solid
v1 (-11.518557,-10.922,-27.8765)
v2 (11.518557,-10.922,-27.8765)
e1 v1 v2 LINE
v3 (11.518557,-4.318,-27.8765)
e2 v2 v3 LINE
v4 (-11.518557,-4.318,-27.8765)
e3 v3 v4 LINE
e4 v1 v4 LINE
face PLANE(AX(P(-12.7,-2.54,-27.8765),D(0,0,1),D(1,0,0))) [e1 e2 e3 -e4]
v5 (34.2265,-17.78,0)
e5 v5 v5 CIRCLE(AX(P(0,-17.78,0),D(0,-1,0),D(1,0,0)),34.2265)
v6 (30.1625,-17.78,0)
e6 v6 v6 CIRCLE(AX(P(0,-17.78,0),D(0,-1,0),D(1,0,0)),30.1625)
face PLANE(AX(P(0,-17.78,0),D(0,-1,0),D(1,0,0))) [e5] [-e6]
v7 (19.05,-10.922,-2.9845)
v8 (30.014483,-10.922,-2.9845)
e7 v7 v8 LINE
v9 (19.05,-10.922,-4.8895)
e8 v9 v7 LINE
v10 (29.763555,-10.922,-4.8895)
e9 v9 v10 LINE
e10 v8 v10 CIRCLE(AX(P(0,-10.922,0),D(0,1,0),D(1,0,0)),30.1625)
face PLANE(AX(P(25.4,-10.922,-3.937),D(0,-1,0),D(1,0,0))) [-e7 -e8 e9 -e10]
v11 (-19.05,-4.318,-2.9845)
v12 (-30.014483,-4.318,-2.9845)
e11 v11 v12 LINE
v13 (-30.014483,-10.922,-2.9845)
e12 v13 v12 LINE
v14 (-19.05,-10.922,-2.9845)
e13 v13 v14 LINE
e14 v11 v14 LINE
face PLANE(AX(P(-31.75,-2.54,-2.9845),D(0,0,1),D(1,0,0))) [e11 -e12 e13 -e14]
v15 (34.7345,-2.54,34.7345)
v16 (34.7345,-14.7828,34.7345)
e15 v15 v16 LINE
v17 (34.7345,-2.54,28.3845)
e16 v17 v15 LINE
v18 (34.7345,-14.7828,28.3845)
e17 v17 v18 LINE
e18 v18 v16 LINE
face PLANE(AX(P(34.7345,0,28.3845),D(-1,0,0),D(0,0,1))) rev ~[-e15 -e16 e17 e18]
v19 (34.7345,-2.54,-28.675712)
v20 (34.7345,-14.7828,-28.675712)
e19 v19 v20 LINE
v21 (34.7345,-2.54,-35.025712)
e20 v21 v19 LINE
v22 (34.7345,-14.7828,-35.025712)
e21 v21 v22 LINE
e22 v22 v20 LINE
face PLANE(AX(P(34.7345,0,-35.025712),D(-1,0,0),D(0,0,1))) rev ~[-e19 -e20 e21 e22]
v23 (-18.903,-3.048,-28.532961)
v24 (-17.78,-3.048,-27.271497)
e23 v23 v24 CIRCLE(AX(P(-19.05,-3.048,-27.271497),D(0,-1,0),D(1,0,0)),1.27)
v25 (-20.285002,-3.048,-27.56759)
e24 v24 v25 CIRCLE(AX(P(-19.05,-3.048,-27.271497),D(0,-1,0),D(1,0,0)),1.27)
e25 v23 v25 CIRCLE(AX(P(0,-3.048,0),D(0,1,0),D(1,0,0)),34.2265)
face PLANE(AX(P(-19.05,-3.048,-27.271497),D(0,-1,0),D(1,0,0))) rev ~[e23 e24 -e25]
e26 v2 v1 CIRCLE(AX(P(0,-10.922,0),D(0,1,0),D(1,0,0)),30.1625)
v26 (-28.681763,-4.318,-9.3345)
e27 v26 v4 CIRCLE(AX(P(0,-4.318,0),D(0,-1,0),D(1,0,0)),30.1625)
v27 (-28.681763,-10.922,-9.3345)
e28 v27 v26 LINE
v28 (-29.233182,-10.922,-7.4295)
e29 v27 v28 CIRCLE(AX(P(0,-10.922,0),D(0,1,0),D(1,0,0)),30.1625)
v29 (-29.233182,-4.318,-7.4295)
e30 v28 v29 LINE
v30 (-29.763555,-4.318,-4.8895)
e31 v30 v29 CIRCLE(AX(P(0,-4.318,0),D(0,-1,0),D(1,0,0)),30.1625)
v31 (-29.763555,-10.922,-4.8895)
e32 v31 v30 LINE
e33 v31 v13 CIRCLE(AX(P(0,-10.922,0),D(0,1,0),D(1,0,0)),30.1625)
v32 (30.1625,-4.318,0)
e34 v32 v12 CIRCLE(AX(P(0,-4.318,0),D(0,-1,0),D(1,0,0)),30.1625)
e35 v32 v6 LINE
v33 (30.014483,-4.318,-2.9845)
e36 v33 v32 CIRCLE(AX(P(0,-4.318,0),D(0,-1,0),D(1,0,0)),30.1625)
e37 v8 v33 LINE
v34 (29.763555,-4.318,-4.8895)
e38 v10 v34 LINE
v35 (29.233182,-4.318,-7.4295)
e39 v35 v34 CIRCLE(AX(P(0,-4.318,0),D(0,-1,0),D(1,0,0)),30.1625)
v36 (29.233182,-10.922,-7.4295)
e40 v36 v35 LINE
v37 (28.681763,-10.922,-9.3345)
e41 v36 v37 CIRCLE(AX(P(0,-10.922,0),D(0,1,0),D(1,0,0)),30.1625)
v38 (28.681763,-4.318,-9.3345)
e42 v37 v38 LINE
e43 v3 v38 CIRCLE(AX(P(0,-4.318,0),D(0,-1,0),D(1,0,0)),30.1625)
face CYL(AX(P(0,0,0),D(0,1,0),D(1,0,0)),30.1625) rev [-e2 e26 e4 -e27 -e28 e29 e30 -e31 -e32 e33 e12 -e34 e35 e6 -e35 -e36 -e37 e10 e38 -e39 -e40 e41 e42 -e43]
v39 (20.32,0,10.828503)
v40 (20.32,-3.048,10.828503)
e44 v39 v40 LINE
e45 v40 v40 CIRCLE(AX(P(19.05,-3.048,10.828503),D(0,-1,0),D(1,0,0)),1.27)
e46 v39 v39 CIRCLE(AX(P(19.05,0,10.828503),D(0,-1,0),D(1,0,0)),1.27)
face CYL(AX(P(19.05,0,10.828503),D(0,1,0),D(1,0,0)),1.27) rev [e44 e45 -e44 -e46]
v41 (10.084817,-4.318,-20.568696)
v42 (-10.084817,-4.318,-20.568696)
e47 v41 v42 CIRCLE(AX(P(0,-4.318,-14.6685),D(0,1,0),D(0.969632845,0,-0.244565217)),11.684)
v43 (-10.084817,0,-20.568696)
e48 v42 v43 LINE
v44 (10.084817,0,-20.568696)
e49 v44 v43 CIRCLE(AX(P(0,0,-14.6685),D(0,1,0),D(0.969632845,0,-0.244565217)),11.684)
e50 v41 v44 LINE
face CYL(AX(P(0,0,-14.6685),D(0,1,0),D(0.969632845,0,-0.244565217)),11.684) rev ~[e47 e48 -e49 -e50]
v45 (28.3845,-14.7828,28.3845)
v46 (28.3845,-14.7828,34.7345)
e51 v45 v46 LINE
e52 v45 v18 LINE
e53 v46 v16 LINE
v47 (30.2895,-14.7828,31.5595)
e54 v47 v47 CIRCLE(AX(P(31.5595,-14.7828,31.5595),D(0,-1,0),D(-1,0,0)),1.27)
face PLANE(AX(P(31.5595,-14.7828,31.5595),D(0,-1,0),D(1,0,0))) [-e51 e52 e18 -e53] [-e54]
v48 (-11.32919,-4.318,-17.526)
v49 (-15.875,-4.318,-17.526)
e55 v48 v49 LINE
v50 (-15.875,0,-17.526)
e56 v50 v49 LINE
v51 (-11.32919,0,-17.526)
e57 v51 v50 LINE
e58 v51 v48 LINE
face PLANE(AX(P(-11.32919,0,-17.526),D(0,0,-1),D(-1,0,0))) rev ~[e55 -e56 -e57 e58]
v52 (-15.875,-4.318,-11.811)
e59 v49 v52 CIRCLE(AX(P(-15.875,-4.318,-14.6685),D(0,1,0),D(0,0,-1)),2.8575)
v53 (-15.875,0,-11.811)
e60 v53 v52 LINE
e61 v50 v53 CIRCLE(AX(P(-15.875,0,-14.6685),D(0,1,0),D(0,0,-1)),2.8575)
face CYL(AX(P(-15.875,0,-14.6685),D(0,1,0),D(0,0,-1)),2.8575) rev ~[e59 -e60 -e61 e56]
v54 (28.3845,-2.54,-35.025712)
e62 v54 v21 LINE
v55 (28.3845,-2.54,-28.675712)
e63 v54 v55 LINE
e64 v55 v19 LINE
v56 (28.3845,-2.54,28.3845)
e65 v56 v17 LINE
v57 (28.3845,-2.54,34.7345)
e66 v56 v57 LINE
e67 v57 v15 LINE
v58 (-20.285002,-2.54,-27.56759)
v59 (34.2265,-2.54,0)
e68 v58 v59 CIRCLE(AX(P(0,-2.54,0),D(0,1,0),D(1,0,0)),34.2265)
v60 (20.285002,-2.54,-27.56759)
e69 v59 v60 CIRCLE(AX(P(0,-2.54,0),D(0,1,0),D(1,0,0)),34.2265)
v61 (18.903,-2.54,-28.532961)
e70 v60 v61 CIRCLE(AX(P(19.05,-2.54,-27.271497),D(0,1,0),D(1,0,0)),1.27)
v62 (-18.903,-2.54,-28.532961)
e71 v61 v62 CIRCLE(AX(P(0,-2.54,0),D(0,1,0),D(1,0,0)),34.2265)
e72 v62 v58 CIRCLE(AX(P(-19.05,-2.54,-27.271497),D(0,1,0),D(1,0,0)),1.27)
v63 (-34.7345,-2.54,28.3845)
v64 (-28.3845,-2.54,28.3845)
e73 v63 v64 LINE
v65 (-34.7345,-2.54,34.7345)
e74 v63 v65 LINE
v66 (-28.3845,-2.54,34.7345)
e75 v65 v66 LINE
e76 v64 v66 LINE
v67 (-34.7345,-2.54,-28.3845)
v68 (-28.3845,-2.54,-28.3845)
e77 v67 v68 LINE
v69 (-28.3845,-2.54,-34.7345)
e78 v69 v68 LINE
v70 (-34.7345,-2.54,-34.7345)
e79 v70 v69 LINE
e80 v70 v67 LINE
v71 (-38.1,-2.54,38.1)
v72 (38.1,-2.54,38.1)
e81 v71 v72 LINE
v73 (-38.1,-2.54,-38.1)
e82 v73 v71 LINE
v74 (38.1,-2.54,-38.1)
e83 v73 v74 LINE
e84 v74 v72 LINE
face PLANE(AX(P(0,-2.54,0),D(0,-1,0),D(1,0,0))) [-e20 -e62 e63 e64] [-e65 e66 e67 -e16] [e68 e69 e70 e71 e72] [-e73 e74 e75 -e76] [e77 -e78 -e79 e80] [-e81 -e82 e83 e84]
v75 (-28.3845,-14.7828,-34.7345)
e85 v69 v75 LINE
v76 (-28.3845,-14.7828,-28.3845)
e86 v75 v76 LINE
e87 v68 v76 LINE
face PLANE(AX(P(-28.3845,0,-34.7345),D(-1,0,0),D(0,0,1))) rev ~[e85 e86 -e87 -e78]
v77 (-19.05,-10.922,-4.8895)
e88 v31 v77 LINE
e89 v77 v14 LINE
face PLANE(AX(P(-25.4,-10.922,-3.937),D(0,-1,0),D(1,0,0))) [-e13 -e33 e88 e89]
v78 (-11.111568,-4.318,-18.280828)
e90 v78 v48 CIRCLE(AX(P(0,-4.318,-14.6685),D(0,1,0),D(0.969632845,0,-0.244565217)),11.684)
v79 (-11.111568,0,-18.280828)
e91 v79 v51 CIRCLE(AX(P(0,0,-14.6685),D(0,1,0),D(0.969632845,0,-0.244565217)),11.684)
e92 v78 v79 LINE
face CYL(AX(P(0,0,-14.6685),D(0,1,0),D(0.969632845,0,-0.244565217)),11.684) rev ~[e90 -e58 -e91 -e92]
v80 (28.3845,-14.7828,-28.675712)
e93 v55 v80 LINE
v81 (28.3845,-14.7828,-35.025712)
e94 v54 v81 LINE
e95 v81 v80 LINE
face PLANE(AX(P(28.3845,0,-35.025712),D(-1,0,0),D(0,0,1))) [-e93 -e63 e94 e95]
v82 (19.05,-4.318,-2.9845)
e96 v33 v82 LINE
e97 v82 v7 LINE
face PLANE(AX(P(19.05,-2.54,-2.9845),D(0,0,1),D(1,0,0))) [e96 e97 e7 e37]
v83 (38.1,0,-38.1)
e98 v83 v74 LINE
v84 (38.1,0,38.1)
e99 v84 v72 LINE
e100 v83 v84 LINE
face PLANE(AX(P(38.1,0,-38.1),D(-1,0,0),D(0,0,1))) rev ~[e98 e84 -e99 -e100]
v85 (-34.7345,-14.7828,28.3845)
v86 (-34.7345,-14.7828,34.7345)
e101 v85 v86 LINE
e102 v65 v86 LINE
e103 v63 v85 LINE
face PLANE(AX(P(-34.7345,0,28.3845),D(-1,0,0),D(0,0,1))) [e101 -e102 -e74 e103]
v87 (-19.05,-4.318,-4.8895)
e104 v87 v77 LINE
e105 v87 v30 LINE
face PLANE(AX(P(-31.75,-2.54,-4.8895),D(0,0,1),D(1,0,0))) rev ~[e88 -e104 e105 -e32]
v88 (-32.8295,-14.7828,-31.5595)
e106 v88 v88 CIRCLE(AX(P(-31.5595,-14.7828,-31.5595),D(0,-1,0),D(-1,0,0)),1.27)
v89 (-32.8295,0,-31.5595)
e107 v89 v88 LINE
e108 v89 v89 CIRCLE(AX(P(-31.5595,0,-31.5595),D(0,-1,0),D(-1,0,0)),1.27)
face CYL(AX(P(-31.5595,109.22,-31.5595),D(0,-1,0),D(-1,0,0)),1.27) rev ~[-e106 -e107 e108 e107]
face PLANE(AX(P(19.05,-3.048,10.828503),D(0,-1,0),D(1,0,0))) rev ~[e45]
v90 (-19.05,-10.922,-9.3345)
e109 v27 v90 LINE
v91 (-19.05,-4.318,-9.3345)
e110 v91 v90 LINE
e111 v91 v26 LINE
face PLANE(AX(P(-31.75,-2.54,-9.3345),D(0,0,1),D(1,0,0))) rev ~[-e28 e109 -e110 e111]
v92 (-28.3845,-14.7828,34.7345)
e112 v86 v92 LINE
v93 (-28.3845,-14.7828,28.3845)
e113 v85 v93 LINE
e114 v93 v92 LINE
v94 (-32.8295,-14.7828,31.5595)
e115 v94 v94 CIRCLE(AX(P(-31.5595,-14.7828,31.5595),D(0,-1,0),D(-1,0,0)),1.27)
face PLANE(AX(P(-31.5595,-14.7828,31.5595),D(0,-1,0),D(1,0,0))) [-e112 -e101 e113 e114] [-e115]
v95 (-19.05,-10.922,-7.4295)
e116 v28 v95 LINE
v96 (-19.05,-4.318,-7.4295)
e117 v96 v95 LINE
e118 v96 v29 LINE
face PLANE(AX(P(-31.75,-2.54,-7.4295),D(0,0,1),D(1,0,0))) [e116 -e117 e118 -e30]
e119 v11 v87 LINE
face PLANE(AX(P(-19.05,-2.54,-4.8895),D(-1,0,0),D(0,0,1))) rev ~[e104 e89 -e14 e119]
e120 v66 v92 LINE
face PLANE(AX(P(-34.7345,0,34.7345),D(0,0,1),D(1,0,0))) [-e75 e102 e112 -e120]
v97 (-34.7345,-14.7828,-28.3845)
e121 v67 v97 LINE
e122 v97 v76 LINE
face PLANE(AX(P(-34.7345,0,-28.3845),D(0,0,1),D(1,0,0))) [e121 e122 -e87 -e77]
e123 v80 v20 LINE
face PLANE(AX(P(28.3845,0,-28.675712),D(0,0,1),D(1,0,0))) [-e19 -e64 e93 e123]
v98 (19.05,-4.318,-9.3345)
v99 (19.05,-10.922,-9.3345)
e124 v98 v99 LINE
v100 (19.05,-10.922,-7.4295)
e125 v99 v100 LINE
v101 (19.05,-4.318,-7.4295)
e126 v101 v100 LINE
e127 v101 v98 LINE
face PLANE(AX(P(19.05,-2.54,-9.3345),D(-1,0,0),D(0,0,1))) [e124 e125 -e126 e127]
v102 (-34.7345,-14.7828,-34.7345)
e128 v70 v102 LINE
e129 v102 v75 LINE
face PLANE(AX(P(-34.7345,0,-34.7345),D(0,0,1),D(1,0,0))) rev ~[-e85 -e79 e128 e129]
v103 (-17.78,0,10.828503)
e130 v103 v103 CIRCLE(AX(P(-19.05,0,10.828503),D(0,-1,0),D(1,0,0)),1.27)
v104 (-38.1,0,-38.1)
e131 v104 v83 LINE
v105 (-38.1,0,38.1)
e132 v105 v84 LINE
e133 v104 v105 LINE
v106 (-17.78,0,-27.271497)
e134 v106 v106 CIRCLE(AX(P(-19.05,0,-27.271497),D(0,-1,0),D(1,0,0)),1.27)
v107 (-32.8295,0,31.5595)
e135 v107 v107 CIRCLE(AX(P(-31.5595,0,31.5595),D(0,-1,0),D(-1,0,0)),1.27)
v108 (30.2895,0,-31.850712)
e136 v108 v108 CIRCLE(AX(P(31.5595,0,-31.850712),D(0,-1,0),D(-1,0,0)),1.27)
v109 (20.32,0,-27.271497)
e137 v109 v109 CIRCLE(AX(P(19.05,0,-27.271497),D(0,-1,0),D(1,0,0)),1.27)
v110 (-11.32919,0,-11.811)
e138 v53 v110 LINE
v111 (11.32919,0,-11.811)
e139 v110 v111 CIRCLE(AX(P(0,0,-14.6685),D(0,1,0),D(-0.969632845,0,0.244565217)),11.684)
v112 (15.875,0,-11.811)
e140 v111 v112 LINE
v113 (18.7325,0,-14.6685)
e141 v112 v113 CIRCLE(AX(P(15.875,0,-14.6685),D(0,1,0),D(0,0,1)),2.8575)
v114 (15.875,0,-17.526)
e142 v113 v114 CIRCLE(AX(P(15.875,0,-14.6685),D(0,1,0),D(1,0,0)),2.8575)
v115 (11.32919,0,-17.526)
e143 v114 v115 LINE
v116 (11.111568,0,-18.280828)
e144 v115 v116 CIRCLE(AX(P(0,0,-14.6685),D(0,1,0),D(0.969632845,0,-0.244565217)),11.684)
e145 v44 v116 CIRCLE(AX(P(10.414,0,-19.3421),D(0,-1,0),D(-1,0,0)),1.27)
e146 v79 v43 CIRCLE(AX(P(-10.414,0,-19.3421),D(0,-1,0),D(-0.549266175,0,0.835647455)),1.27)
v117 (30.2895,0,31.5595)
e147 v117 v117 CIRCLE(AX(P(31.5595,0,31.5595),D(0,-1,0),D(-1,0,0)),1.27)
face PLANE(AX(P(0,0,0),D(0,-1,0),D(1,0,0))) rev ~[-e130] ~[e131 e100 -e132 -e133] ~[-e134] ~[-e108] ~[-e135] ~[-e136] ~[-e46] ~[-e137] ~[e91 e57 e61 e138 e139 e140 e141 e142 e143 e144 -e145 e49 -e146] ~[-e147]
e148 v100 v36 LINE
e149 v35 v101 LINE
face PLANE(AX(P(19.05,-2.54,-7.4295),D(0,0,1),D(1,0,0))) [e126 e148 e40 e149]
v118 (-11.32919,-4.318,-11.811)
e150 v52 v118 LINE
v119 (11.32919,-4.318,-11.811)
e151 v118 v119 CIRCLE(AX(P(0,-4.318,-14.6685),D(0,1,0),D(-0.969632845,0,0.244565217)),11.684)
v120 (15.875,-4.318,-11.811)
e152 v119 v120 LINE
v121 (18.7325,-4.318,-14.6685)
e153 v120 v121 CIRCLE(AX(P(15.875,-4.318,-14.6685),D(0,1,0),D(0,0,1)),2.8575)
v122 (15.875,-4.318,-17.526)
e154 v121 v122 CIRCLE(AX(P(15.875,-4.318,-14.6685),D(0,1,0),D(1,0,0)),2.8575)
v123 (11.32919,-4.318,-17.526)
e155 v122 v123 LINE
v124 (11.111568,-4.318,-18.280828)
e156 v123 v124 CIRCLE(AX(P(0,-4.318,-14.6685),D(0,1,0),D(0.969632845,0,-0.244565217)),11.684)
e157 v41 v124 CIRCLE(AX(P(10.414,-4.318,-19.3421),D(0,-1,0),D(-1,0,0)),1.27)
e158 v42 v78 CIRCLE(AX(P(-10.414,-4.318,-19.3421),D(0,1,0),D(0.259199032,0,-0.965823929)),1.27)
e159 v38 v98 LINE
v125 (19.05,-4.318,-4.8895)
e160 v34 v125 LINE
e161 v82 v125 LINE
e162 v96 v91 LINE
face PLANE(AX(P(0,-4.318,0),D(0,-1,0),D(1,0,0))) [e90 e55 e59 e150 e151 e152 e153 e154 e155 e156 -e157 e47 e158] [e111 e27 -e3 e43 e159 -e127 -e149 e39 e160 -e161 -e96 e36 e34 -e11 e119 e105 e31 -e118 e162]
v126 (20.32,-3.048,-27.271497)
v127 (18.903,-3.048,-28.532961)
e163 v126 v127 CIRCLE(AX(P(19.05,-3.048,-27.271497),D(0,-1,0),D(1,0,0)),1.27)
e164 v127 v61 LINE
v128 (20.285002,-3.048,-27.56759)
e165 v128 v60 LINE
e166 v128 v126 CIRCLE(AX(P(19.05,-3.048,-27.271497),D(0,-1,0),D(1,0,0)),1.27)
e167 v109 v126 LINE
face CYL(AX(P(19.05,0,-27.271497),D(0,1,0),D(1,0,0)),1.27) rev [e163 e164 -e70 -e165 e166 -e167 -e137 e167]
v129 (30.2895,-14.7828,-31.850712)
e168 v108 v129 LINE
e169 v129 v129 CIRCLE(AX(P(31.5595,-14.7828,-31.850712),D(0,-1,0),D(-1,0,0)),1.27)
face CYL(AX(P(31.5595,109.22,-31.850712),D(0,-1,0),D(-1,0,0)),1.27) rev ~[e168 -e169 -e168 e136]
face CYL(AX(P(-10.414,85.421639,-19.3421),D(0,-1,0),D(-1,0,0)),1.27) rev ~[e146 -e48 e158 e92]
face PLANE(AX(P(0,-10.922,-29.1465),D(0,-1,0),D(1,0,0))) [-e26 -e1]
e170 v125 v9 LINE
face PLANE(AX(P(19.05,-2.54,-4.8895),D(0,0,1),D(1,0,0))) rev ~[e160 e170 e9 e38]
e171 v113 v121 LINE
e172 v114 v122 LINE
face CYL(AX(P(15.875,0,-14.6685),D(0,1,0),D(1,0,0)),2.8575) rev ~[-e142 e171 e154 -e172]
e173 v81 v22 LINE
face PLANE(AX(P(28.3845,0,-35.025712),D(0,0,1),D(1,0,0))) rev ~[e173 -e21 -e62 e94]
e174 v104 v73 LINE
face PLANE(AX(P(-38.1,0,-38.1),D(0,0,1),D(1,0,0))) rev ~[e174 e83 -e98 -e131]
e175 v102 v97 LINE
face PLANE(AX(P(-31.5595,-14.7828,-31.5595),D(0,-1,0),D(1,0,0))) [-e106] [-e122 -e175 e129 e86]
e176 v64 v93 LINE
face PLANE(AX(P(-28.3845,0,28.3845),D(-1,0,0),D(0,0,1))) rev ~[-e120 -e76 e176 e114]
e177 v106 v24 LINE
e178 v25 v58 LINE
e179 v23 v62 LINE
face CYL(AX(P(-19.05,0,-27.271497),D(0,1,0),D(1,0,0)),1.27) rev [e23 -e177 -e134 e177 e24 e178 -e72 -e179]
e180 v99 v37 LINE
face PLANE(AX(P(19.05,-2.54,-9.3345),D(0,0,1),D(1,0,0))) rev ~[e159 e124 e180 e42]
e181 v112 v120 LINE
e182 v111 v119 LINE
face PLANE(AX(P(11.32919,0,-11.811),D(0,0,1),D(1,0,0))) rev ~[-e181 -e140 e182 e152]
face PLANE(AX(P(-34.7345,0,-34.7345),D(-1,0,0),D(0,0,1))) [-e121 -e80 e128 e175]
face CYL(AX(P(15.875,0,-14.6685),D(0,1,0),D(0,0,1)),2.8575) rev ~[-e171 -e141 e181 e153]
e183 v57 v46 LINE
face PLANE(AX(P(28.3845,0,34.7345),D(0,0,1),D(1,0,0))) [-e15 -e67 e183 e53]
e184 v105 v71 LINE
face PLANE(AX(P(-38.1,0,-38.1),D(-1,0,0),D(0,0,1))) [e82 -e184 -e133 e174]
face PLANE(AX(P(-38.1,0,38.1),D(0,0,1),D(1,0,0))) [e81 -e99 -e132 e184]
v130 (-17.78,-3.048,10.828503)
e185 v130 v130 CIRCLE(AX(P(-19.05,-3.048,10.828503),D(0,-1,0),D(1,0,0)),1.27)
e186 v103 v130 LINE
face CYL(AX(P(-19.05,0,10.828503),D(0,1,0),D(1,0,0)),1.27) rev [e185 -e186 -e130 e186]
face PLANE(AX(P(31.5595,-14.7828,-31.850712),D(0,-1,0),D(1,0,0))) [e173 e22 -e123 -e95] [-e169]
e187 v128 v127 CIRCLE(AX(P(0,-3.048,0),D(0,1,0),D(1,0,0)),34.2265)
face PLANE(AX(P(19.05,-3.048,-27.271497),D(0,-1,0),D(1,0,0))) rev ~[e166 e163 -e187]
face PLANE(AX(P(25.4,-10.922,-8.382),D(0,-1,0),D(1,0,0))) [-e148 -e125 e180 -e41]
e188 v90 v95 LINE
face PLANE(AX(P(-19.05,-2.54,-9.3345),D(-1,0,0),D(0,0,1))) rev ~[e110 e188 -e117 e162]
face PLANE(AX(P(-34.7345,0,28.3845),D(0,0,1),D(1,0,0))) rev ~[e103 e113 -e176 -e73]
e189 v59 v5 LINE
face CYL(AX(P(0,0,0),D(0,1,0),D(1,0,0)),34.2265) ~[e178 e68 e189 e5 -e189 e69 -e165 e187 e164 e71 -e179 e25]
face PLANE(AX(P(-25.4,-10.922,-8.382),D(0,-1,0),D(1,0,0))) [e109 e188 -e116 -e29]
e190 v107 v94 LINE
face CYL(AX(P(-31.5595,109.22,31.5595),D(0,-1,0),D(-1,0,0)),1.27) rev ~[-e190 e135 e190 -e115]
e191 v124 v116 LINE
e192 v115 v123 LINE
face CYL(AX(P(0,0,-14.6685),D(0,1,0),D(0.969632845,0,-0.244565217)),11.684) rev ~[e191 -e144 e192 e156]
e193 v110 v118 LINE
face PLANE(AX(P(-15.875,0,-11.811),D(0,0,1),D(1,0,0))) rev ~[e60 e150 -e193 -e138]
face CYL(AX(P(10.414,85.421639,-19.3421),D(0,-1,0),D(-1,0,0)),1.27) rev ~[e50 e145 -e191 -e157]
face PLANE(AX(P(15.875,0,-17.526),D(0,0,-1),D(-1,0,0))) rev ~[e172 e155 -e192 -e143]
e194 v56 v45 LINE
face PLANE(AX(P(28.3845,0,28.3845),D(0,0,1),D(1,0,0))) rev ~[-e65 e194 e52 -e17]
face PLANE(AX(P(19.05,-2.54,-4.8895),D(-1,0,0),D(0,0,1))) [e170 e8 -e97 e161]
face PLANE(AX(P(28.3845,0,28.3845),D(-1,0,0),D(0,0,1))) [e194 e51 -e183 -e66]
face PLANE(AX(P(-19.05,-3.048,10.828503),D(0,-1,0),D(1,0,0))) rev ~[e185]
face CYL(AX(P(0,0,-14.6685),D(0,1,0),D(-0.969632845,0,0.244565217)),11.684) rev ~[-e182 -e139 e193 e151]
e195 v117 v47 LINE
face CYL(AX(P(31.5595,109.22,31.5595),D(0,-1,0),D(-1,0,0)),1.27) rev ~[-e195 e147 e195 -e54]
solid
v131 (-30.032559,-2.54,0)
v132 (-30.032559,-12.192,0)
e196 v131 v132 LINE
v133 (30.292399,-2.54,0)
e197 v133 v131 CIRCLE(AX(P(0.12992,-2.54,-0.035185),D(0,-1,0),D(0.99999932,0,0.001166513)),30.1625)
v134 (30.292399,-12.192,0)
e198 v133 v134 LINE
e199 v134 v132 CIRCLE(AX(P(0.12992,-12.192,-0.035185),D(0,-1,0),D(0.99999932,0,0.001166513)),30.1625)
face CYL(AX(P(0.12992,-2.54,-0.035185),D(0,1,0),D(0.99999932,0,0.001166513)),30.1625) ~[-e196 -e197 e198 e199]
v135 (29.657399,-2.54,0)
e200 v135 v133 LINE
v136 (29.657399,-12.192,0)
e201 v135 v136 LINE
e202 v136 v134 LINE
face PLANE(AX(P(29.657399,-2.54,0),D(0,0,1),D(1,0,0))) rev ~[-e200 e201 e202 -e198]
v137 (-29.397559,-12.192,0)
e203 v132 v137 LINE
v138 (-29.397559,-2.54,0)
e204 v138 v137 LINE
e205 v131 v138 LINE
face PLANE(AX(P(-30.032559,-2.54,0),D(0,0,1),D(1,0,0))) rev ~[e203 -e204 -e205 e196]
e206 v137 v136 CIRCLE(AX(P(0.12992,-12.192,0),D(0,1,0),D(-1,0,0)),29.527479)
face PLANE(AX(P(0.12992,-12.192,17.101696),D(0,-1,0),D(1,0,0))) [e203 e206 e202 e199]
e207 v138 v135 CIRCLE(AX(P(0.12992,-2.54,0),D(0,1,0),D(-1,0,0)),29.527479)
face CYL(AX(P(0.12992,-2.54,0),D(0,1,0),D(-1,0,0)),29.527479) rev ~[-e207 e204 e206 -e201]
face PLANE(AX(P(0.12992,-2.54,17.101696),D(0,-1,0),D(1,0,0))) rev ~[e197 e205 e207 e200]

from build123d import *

# Parameters (mm, degrees)
F0_R      = 30.1625
F1_DEPTH  = 4.318
F2_D      = 2.54
F3_DEPTH  = 10.922
F4_R      = 34.2265
F4_R_2    = 30.1625
F5_DEPTH  = 17.78
F0_W      = 76.2
F0_H      = 76.2
F0_W_2    = 6.35
F0_H_2    = 6.35
F8_DEPTH  = 2.54
F10_DEPTH = 9.652
F11_R     = 1.27
F12_DEPTH = 3.048
F7_W      = 25.4
F7_H      = 2.54
F7_W_2    = 12.7
F7_H_2    = 1.905
F13_DEPTH = 8.382
F14_DEPTH = 14.7828
F15_D     = 2.54


with BuildPart() as f1:
    # F0 (on Front) → F1 (new body)
    with BuildSketch(Plane.XZ):
        Circle(F0_R)
        with BuildLine():
            ThreePointArc((-11.329190163, -11.811), (0, -2.9845), (11.329190163, -11.811))
            Line((11.329190163, -11.811), (15.875, -11.811))
            ThreePointArc((15.875, -11.811), (17.8955576272, -12.6479423728), (18.7325, -14.6685))
            ThreePointArc((18.7325, -14.6685), (17.8955576272, -16.6890576272), (15.875, -17.526))
            Line((15.875, -17.526), (11.329190163, -17.526))
            ThreePointArc((11.329190163, -17.526), (0, -26.3525), (-11.329190163, -17.526))
            Line((-11.329190163, -17.526), (-15.875, -17.526))
            ThreePointArc((-15.875, -17.526), (-18.7325, -14.6685), (-15.875, -11.811))
            Line((-15.875, -11.811), (-11.329190163, -11.811))
        make_face(mode=Mode.SUBTRACT)
    extrude(amount=F1_DEPTH)

    # F2 (through all)
    with Locations(Plane(origin=(0, 0, 0), x_dir=(1, 0, 0), z_dir=(0, 1, 0))):
        with Locations((-10.414, 19.3421), (10.414, 19.3421)):
            Hole(F2_D / 2)

    # F0 (on Front) → F3 (cut)
    with BuildSketch(Plane.XZ):
        Circle(F0_R)
        with BuildLine():
            ThreePointArc((-11.329190163, -11.811), (0, -2.9845), (11.329190163, -11.811))
            Line((11.329190163, -11.811), (15.875, -11.811))
            ThreePointArc((15.875, -11.811), (17.8955576272, -12.6479423728), (18.7325, -14.6685))
            ThreePointArc((18.7325, -14.6685), (17.8955576272, -16.6890576272), (15.875, -17.526))
            Line((15.875, -17.526), (11.329190163, -17.526))
            ThreePointArc((11.329190163, -17.526), (0, -26.3525), (-11.329190163, -17.526))
            Line((-11.329190163, -17.526), (-15.875, -17.526))
            ThreePointArc((-15.875, -17.526), (-18.7325, -14.6685), (-15.875, -11.811))
            Line((-15.875, -11.811), (-11.329190163, -11.811))
        make_face(mode=Mode.SUBTRACT)
        with BuildLine():
            ThreePointArc((-13.0175, -14.6685), (-13.8544423728, -12.6479423728), (-15.875, -11.811))
            Line((-15.875, -11.811), (-15.875, -17.526))
            ThreePointArc((-15.875, -17.526), (-13.8544423728, -16.6890576272), (-13.0175, -14.6685))
        make_face()
        with BuildLine():
            Line((-15.875, -17.526), (-15.875, -11.811))
            ThreePointArc((-15.875, -11.811), (-18.7325, -14.6685), (-15.875, -17.526))
        make_face()
        with BuildLine():
            Line((15.875, -17.526), (15.875, -11.811))
            ThreePointArc((15.875, -11.811), (13.0175, -14.6685), (15.875, -17.526))
        make_face()
        with BuildLine():
            ThreePointArc((18.7325, -14.6685), (17.8955576272, -12.6479423728), (15.875, -11.811))
            Line((15.875, -11.811), (15.875, -17.526))
            ThreePointArc((15.875, -17.526), (17.8955576272, -16.6890576272), (18.7325, -14.6685))
        make_face()
    extrude(amount=-F3_DEPTH, mode=Mode.SUBTRACT)

    # F4 (on Front) → F5 (join)
    with BuildSketch(Plane.XZ):
        Circle(F4_R)
        Circle(F4_R_2, mode=Mode.SUBTRACT)
    extrude(amount=F5_DEPTH)

    # F0 (on Front) → F8 (join)
    with BuildSketch(Plane.XZ):
        Rectangle(F0_W, F0_H)
        with Locations((-31.5595, -31.5595)):
            Rectangle(F0_W_2, F0_H_2, mode=Mode.SUBTRACT)
        with Locations((31.5595, -31.8507122787)):
            Rectangle(F0_W_2, F0_H_2, mode=Mode.SUBTRACT)
        with Locations((-31.5595, 31.5595)):
            Rectangle(F0_W_2, F0_H_2, mode=Mode.SUBTRACT)
        Circle(F0_R, mode=Mode.SUBTRACT)
        with Locations((31.5595, 31.5595)):
            Rectangle(F0_W_2, F0_H_2, mode=Mode.SUBTRACT)
    extrude(amount=F8_DEPTH)

    # F11 (on Front) → F12 (cut)
    with BuildSketch(Plane.XZ):
        with Locations((19.05, 10.8285026)):
            Circle(F11_R)
        with Locations((-19.05, 10.8285026)):
            Circle(F11_R)
        with Locations((-19.05, -27.2714974)):
            Circle(F11_R)
        with Locations((19.05, -27.2714974)):
            Circle(F11_R)
    extrude(amount=F12_DEPTH, mode=Mode.SUBTRACT)

    # F7 (on offset) → F13 (join)
    with BuildSketch(Plane.XZ.offset(2.54)):
        with Locations((0, -29.1465)):
            Rectangle(F7_W, F7_H)
        with Locations((-25.4, -3.937)):
            Rectangle(F7_W_2, F7_H_2)
        with Locations((-25.4, -8.382)):
            Rectangle(F7_W_2, F7_H_2)
        with Locations((25.4, -8.382)):
            Rectangle(F7_W_2, F7_H_2)
        with Locations((25.4, -3.937)):
            Rectangle(F7_W_2, F7_H_2)
    extrude(amount=F13_DEPTH)

    # F0 (on Front) → F14 (join)
    with BuildSketch(Plane.XZ):
        with Locations((-31.5595, -31.5595)):
            Rectangle(F0_W_2, F0_H_2)
        with Locations((-31.5595, 31.5595)):
            Rectangle(F0_W_2, F0_H_2)
        with Locations((31.5595, 31.5595)):
            Rectangle(F0_W_2, F0_H_2)
        with Locations((31.5595, -31.8507122787)):
            Rectangle(F0_W_2, F0_H_2)
    extrude(amount=F14_DEPTH)

    # F15 (through all)
    with Locations(Plane(origin=(0, 0, 0), x_dir=(1, 0, 0), z_dir=(0, 1, 0))):
        with Locations((-31.5595, -31.5595), (31.5595, -31.5595), (-31.5595, 31.5595), (31.5595, 31.8507122787)):
            Hole(F15_D / 2)


with BuildPart() as f10:
    # F9 (on offset) → F10 (new body)
    with BuildSketch(Plane.XZ.offset(2.54)):
        with BuildLine():
            Line((29.6573994599, 0), (30.2923994599, 0))
            ThreePointArc((30.2923994599, 0), (0.1299199818, 30.1273150478), (-30.0325594963, 0))
            Line((-30.0325594963, 0), (-29.3975594963, 0))
            ThreePointArc((-29.3975594963, 0), (0.1299199818, 29.5274794781), (29.6573994599, 0))
        make_face()
    extrude(amount=F10_DEPTH)


solid = Compound([f1.part, f10.part])
